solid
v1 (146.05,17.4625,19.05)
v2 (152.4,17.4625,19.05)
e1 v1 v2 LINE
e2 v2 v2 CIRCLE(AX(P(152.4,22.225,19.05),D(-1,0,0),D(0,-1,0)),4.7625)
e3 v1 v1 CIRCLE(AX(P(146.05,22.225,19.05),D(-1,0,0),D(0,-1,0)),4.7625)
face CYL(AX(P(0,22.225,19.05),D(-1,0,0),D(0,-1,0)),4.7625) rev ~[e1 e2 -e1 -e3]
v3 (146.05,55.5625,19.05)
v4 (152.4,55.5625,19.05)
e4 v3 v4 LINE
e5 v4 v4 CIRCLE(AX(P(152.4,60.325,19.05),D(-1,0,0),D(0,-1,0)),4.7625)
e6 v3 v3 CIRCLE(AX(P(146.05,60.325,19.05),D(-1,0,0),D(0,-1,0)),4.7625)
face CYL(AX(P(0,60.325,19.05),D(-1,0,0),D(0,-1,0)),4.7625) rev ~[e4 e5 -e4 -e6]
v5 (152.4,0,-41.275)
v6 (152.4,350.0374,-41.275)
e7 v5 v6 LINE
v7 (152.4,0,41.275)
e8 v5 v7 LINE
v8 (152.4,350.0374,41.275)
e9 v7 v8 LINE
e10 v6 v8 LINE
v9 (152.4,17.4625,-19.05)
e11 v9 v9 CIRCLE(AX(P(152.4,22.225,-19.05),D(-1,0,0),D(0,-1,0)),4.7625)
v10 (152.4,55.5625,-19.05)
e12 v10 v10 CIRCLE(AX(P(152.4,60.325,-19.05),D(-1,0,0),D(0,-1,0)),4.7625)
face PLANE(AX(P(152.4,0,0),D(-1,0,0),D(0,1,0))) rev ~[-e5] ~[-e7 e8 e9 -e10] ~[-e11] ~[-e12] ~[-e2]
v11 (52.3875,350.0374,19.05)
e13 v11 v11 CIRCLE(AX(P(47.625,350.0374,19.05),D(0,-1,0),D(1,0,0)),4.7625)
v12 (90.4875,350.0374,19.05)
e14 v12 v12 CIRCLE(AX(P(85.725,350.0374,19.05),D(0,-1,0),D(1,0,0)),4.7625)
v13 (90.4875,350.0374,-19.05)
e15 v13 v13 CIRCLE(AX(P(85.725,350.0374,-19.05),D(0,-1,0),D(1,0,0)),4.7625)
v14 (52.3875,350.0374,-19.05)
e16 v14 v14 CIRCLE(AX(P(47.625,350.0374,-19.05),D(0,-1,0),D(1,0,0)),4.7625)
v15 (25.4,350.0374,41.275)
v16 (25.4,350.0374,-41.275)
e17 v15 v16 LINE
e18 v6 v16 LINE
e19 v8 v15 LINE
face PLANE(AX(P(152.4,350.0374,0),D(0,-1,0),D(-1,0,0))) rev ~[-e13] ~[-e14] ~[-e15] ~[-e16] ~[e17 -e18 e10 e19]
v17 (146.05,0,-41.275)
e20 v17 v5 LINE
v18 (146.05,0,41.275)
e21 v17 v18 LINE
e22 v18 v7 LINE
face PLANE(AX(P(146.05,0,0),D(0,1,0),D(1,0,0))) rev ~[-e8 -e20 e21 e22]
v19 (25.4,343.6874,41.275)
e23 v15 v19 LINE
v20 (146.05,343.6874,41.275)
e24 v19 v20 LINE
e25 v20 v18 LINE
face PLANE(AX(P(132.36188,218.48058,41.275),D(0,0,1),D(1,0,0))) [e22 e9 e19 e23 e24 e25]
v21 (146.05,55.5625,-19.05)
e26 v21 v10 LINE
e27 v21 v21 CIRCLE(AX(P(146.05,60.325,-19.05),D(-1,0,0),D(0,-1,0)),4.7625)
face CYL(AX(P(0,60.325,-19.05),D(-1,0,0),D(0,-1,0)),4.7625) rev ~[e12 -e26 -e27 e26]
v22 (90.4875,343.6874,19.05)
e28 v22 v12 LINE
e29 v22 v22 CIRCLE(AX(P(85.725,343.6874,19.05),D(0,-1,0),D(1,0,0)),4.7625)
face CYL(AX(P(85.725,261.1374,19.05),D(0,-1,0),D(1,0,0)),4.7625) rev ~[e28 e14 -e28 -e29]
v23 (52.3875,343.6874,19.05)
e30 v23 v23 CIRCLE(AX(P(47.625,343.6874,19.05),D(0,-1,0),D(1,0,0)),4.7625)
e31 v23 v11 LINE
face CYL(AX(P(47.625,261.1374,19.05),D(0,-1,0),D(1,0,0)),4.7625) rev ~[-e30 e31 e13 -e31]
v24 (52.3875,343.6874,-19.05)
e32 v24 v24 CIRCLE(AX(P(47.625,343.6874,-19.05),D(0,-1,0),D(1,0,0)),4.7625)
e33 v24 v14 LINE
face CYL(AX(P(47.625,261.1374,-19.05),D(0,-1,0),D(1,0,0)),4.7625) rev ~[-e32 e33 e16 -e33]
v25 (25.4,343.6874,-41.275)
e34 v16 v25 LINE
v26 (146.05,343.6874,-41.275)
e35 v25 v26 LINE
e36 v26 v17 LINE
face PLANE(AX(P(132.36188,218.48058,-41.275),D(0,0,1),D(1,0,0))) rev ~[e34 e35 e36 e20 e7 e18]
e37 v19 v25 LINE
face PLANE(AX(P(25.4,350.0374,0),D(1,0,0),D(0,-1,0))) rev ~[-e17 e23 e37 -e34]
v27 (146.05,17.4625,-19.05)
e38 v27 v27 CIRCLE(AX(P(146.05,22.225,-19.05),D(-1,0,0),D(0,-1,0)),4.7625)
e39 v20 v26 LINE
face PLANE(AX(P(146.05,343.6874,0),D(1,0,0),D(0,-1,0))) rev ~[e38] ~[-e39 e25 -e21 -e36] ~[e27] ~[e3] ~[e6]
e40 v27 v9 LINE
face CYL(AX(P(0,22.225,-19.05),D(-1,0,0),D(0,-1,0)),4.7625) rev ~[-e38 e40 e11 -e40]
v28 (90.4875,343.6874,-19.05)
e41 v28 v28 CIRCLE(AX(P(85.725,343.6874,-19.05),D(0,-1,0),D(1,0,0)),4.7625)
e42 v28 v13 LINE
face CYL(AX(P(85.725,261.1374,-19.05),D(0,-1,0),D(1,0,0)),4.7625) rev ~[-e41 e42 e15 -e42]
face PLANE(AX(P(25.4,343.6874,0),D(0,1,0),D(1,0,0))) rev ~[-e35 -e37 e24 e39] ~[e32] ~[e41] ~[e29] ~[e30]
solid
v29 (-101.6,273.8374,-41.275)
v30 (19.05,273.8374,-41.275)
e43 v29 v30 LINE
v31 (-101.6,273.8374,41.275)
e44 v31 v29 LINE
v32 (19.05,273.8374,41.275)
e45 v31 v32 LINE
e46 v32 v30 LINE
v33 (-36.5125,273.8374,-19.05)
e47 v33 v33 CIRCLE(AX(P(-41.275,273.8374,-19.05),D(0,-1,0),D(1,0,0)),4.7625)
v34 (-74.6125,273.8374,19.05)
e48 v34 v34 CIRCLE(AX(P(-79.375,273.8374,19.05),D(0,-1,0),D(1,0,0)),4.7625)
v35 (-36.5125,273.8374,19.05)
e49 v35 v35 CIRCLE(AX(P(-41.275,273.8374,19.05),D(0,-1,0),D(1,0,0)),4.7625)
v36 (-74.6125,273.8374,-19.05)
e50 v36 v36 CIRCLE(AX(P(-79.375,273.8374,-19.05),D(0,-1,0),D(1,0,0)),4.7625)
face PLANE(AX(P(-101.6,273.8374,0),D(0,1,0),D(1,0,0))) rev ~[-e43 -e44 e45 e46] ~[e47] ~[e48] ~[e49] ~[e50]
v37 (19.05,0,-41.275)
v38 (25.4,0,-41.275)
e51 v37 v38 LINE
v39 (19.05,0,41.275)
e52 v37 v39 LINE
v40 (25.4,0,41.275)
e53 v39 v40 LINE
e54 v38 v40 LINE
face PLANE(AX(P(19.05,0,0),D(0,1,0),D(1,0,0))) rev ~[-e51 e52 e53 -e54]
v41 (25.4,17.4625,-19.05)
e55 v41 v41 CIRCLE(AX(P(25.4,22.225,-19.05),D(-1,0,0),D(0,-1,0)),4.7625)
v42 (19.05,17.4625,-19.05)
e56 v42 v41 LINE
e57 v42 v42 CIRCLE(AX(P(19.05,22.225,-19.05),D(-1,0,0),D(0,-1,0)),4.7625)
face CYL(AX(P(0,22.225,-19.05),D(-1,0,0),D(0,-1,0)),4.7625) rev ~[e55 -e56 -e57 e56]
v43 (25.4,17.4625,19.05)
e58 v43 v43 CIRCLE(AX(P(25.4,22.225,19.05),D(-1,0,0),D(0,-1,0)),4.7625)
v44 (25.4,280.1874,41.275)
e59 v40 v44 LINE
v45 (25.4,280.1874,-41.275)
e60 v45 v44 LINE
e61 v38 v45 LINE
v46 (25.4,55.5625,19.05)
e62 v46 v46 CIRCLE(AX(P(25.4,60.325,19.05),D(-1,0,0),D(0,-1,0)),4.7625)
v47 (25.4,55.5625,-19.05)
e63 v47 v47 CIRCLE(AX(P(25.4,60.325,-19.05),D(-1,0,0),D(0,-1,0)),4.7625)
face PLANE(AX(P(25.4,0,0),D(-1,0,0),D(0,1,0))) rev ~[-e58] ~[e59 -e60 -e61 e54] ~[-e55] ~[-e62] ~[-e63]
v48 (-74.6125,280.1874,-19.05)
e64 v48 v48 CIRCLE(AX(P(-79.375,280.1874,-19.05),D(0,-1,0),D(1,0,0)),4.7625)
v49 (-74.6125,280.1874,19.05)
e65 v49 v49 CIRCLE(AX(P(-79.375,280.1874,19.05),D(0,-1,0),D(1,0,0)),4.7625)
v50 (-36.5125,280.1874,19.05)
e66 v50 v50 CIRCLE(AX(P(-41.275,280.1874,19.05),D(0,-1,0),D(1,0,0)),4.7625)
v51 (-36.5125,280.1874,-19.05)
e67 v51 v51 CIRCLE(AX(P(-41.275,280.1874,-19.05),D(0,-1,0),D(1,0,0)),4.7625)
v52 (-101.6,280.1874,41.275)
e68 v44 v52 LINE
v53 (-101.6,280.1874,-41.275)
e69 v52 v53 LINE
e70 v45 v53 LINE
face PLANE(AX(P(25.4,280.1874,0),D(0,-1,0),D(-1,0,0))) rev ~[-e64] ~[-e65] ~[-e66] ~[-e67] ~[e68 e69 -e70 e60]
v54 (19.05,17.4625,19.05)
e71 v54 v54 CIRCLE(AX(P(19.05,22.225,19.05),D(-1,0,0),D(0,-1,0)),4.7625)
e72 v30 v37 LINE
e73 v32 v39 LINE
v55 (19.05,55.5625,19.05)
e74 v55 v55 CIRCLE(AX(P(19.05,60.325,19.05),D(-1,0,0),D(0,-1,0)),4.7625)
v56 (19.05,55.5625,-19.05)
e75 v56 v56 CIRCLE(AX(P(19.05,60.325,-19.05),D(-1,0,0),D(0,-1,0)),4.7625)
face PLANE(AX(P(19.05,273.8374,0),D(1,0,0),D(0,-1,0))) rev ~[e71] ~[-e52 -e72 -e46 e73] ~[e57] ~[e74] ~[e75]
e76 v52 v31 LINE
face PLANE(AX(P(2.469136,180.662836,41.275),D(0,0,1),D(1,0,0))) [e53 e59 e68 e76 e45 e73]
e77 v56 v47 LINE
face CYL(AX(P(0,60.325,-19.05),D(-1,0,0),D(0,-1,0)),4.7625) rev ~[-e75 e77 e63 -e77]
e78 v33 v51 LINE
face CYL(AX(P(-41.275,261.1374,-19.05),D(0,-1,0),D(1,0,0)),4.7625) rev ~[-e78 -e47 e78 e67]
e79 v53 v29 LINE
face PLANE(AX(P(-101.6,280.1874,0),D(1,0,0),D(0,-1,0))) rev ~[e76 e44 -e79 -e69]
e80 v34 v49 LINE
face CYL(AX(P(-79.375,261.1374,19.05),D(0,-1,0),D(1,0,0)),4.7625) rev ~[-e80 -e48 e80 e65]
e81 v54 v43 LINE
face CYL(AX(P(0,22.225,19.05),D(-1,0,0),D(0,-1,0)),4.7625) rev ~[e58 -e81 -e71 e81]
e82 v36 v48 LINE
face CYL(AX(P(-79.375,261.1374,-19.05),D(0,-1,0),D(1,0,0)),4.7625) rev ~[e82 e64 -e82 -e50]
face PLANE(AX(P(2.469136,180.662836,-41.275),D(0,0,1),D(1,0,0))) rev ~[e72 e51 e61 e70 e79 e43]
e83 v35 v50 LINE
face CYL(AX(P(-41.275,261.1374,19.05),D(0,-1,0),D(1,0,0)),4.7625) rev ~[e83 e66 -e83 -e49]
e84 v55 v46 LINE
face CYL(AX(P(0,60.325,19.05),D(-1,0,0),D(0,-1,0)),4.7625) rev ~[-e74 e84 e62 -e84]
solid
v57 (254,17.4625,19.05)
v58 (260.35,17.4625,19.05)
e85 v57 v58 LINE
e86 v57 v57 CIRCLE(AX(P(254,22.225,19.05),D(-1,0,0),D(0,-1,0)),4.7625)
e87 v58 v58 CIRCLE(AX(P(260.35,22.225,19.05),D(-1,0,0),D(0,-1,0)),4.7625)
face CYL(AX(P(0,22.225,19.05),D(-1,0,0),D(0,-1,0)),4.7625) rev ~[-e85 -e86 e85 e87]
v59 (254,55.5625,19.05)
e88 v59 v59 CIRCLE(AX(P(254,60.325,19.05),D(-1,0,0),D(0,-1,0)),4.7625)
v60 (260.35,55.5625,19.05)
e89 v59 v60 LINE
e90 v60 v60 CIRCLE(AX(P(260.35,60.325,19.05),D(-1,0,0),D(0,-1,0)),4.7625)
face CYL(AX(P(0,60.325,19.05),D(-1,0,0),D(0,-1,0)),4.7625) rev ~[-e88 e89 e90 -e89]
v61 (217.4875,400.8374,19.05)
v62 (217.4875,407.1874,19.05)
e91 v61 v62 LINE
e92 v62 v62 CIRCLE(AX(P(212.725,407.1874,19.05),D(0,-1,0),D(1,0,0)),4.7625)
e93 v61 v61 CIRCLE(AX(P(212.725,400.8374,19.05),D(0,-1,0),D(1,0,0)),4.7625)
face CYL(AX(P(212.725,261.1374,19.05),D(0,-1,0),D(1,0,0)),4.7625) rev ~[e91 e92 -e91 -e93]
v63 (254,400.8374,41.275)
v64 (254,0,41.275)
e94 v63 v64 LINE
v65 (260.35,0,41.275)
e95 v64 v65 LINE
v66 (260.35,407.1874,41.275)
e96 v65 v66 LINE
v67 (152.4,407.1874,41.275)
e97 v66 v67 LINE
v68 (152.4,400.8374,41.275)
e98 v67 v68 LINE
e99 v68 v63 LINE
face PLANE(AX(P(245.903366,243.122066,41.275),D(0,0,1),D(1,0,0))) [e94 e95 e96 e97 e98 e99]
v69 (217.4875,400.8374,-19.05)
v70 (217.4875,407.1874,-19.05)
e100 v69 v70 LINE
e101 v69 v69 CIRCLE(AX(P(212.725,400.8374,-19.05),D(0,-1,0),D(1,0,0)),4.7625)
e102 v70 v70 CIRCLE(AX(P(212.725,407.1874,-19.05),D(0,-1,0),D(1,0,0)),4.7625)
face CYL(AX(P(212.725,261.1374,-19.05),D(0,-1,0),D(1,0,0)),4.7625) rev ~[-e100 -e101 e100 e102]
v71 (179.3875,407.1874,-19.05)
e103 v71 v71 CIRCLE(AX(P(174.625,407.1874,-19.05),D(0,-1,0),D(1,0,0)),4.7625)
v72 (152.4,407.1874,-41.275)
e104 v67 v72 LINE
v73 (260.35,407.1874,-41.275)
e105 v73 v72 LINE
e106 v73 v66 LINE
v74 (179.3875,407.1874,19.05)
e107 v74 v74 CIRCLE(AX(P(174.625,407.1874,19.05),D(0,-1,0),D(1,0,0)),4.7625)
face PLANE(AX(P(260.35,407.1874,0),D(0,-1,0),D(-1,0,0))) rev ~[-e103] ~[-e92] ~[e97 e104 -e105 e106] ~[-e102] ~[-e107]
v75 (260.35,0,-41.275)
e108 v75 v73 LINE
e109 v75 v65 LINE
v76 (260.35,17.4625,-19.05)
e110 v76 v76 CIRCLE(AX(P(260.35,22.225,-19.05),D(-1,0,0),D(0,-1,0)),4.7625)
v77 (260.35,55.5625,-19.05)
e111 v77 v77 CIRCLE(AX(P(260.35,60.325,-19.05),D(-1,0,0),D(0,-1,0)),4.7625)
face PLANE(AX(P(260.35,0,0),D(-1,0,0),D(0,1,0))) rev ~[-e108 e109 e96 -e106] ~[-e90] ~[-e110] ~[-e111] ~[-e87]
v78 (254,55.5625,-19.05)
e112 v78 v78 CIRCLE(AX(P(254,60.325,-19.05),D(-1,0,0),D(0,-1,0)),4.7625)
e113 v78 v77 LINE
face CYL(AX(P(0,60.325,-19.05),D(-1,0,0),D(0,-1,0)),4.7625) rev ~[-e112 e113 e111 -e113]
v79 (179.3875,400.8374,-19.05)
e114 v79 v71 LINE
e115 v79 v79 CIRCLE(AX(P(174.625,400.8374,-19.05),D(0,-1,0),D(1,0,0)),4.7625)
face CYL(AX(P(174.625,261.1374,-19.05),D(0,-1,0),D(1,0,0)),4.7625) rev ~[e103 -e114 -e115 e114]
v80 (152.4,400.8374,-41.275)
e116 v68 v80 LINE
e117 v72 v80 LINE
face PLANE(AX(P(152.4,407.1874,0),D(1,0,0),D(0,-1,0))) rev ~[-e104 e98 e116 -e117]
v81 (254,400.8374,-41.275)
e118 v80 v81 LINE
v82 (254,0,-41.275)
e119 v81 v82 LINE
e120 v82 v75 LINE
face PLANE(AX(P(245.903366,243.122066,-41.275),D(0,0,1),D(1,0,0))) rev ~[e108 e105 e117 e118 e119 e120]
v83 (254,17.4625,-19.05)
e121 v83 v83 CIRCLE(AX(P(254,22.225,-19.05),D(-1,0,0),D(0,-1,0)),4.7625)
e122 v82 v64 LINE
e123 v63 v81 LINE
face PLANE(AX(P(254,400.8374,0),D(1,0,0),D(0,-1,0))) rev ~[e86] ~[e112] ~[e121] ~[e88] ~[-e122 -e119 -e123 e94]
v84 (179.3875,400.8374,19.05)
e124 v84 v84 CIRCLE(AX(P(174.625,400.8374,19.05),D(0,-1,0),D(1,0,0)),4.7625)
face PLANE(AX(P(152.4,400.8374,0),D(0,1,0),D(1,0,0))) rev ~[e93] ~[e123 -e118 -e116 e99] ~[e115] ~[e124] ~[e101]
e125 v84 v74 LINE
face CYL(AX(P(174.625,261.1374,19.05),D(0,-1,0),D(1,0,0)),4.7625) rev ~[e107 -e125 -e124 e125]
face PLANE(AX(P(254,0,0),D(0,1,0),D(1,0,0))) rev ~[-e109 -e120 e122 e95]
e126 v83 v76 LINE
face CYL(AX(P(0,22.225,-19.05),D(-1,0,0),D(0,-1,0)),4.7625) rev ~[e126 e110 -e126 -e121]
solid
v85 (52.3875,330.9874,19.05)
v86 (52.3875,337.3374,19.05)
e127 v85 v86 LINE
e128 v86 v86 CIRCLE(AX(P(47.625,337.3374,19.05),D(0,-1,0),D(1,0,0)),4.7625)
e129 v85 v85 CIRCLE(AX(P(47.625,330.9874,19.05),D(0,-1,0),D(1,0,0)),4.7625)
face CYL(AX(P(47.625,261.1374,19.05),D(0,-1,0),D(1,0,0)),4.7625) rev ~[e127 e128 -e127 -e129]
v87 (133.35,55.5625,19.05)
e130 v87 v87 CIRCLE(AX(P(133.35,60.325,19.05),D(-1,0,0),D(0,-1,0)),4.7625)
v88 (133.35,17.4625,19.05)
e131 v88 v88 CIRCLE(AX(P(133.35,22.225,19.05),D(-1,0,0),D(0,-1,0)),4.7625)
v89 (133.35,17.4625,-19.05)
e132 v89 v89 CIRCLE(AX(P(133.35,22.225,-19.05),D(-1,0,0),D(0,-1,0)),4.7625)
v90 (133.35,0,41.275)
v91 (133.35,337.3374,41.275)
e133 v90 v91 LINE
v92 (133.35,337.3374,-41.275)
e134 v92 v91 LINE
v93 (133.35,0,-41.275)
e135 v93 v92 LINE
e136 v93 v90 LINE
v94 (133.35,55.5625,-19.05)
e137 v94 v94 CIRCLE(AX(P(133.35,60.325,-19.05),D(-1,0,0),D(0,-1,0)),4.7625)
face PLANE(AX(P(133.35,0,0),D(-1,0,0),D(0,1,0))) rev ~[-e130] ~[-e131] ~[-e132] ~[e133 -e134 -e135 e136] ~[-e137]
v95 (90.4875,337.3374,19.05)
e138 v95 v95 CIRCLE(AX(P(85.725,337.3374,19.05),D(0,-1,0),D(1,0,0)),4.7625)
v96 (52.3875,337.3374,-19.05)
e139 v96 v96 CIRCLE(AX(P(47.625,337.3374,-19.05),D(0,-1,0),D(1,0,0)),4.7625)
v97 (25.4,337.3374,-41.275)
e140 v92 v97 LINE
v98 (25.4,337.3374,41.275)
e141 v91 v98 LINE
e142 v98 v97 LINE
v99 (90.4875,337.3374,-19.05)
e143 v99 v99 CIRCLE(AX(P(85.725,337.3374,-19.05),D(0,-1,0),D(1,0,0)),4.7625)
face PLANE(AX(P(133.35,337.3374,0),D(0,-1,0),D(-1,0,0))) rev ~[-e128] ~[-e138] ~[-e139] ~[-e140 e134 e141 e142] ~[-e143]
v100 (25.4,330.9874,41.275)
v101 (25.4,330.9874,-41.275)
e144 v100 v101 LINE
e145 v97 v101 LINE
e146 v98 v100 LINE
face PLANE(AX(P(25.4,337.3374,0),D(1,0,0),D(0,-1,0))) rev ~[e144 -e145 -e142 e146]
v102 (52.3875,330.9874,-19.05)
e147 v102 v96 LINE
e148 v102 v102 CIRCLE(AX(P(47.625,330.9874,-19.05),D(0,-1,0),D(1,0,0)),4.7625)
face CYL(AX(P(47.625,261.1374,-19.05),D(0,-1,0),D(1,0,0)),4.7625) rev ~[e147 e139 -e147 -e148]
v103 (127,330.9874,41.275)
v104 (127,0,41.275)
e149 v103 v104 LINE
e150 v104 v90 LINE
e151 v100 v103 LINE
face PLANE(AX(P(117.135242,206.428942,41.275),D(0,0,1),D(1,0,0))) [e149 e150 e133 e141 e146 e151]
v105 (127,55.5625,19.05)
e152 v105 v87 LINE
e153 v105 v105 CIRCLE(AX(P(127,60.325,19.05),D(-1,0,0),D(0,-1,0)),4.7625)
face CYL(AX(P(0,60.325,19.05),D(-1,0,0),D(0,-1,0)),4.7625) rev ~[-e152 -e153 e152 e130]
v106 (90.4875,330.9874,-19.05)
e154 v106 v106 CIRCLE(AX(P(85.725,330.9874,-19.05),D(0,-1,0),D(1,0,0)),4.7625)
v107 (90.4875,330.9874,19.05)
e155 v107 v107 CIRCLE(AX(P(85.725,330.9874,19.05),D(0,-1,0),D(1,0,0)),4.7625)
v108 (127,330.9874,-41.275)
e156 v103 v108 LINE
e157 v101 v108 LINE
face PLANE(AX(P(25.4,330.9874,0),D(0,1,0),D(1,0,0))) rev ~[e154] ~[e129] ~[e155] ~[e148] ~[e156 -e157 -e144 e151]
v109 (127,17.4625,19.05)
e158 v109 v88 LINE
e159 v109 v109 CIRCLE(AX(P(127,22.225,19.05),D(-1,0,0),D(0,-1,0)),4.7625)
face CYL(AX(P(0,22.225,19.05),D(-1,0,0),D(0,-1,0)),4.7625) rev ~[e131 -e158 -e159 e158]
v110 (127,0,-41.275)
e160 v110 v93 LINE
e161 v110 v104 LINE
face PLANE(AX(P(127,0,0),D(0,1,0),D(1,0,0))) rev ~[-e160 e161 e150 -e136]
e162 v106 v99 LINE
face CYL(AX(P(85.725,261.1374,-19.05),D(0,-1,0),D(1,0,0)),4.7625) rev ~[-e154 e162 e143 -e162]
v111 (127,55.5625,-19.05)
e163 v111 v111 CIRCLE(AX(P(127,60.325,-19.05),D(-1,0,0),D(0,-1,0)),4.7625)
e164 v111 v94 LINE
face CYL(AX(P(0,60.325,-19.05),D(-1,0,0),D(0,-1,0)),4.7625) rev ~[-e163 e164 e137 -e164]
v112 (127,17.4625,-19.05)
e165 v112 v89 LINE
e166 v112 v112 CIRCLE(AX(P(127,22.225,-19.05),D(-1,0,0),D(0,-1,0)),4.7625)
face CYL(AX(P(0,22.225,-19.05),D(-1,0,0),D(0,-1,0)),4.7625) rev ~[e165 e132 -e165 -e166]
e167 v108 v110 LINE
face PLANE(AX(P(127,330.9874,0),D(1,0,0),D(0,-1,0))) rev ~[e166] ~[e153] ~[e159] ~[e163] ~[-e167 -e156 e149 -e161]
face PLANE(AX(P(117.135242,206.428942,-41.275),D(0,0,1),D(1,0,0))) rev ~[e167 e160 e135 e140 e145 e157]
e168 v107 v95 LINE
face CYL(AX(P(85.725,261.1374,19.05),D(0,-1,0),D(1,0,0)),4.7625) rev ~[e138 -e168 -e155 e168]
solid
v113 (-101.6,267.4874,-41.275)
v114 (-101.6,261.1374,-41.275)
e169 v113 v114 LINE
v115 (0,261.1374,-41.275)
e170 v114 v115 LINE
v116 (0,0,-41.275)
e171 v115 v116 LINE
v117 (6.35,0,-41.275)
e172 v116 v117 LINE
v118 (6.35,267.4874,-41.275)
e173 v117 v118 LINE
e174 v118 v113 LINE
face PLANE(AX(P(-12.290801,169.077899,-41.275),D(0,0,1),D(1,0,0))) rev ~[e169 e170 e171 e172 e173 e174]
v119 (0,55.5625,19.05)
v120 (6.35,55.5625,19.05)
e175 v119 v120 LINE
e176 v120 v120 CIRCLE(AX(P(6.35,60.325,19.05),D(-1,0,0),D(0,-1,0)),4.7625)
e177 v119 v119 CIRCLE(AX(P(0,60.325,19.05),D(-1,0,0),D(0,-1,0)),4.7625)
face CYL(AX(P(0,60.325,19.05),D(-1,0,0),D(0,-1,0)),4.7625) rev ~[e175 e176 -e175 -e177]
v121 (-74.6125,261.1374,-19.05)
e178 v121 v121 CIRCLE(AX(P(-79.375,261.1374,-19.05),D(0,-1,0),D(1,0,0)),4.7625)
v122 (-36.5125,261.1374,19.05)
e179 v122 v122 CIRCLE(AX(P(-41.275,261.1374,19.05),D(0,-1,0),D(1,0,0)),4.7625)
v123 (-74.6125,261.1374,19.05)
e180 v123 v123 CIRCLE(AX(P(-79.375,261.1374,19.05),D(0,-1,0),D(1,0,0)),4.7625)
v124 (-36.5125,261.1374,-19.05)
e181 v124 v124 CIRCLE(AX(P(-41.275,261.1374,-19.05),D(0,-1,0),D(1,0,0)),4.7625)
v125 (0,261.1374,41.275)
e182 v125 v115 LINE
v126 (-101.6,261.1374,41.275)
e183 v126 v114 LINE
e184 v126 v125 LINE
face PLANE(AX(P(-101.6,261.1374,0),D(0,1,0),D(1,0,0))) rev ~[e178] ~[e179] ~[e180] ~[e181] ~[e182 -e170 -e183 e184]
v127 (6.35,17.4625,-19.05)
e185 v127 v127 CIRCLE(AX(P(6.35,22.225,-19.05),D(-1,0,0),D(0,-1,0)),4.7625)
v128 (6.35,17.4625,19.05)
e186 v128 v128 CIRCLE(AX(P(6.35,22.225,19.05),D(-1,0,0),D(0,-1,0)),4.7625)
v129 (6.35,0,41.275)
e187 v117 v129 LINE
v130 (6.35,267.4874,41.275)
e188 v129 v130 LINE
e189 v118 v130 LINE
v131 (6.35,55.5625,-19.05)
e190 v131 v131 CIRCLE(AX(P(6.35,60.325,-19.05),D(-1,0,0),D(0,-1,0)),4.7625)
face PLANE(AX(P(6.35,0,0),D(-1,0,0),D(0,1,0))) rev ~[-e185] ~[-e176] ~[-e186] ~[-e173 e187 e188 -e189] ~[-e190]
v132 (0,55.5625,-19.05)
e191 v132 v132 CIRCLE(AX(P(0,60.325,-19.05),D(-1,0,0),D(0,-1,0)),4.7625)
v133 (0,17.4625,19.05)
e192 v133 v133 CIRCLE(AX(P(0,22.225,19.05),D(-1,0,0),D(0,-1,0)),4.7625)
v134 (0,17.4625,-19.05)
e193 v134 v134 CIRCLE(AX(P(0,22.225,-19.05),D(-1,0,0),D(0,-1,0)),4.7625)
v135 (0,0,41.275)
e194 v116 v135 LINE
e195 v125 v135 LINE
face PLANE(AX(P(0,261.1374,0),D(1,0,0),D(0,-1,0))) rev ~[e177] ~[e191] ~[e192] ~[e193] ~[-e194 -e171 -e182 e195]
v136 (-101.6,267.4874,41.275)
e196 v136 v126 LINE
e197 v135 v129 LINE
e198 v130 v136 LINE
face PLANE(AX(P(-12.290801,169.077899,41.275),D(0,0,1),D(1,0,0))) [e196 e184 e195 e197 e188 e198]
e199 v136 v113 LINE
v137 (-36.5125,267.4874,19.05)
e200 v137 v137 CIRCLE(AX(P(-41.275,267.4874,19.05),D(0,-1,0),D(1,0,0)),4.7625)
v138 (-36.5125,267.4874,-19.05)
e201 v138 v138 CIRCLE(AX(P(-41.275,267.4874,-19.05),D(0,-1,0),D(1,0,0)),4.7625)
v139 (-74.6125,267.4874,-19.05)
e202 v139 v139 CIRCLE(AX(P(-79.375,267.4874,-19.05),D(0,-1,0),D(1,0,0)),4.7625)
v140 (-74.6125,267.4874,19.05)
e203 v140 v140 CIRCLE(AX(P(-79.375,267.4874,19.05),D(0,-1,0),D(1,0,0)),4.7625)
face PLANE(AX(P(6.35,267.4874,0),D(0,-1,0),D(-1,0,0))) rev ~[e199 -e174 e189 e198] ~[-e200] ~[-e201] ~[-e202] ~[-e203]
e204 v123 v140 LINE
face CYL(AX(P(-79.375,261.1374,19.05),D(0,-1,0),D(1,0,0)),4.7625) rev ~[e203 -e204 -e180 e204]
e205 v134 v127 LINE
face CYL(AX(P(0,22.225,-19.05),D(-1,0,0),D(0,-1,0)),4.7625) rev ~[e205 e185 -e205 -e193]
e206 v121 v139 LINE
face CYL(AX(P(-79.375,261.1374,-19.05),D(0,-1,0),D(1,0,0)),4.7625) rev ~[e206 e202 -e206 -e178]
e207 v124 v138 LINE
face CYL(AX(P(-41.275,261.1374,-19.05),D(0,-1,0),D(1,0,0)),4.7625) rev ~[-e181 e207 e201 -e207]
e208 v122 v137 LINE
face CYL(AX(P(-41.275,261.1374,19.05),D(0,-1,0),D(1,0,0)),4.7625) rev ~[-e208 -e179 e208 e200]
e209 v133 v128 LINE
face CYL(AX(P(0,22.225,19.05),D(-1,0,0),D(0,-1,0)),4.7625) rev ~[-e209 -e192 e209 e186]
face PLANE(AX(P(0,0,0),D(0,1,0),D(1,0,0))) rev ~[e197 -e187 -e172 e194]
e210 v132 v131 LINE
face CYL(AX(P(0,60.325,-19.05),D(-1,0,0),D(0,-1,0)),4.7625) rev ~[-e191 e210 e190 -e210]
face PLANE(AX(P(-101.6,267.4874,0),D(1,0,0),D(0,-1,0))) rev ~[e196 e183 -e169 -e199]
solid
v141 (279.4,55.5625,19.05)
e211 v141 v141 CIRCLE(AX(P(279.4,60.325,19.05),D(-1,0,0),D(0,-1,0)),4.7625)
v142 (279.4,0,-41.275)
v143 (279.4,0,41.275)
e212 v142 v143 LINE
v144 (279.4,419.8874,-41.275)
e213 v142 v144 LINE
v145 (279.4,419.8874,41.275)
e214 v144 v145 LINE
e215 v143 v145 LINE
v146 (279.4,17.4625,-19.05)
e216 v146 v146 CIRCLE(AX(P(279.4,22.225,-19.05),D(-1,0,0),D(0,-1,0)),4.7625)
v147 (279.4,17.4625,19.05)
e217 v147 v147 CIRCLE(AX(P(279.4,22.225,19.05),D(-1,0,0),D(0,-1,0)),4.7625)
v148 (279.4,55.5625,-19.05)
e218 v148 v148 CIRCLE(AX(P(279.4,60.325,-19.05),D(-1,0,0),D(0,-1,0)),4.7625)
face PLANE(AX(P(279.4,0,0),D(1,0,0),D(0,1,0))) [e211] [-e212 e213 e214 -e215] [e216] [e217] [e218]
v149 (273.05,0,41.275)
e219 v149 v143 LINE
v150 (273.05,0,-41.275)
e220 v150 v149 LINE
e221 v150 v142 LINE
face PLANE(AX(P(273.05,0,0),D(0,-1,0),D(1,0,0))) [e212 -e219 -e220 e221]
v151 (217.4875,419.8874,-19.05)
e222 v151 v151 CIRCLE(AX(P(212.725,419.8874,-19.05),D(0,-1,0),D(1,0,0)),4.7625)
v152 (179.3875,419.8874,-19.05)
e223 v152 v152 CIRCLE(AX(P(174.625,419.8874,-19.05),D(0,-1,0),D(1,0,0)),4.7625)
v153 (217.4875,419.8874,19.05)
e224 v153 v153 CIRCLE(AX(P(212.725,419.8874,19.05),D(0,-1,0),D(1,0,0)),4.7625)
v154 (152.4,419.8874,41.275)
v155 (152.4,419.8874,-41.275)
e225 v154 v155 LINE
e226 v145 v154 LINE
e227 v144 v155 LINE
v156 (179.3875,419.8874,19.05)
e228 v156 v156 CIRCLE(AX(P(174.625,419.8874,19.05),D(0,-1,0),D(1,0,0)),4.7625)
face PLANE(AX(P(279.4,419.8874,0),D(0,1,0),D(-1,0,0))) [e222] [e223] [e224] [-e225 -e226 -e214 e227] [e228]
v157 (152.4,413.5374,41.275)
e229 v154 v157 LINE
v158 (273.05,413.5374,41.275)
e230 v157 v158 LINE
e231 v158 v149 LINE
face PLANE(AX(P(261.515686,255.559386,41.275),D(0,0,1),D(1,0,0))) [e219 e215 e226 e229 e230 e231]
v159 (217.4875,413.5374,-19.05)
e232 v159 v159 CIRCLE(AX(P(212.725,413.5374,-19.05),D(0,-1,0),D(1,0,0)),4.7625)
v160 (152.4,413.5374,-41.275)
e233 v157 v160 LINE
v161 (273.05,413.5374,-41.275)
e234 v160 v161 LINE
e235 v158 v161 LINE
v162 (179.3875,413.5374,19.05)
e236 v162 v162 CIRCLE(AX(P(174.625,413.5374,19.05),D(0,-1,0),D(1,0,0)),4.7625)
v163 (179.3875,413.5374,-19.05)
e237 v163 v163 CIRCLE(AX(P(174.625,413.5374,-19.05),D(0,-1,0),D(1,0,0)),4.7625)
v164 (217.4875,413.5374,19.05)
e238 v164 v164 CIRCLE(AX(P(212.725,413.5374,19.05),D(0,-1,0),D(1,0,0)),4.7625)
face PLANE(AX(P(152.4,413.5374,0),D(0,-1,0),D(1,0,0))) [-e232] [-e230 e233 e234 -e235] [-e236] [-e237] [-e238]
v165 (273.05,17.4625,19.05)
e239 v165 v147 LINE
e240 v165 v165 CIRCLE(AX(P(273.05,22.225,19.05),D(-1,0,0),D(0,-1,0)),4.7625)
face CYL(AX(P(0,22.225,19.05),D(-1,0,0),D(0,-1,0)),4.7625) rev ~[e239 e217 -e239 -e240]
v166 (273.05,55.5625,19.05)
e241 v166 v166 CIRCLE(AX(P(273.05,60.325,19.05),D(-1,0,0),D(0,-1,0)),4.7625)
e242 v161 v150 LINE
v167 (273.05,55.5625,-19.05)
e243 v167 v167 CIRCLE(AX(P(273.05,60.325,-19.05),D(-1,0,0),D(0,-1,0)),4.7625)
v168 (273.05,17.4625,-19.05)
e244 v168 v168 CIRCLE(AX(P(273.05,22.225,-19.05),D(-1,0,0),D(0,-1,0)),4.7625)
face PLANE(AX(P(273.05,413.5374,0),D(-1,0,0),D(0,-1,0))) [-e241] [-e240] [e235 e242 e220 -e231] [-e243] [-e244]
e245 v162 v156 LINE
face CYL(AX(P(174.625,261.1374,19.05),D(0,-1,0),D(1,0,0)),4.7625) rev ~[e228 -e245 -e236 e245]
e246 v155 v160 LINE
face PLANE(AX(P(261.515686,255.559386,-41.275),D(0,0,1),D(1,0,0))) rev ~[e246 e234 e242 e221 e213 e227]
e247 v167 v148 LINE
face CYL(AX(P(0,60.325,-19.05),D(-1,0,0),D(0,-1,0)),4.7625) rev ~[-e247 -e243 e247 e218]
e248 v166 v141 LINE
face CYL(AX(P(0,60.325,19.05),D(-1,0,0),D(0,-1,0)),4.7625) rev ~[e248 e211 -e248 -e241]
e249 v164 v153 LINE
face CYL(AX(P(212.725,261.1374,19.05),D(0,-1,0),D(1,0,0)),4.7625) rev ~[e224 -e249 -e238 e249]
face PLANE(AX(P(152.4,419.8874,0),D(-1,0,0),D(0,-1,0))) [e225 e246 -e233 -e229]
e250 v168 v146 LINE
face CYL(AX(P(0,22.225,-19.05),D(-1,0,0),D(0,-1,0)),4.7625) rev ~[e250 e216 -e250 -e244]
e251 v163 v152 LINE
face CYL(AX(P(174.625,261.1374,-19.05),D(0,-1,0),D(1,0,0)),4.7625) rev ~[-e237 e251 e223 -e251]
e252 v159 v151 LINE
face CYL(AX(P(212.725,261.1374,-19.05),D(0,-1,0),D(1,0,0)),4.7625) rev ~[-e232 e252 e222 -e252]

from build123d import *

# Parameters (mm, degrees)
F1_DEPTH      = 41.275
F2_R          = 4.7625
F3_DEPTH      = 279.401
F3_DEPTH_BACK = 101.601
F4_R          = 4.7625
F5_DEPTH      = 158.751


with BuildPart() as f1:
    # F0 (on Top) → F1 (new body, symmetric)
    with BuildSketch(Plane.XY):
        Polygon((0, 261.1374), (0, 0), (6.35, 0), (6.35, 267.4874), (-101.6, 267.4874), (-101.6, 261.1374), align=None)
        Polygon((19.05, 273.8374), (19.05, 0), (25.4, 0), (25.4, 280.1874), (-101.6, 280.1874), (-101.6, 273.8374), align=None)
        Polygon((127, 330.9874), (127, 0), (133.35, 0), (133.35, 337.3374), (25.4, 337.3374), (25.4, 330.9874), align=None)
        Polygon((146.05, 343.6874), (146.05, 0), (152.4, 0), (152.4, 350.0374), (25.4, 350.0374), (25.4, 343.6874), align=None)
        Polygon((254, 400.8374), (254, 0), (260.35, 0), (260.35, 407.1874), (152.4, 407.1874), (152.4, 400.8374), align=None)
        Polygon((273.05, 413.5374), (273.05, 0), (279.4, 0), (279.4, 419.8874), (152.4, 419.8874), (152.4, 413.5374), align=None)
    extrude(amount=F1_DEPTH, both=True)

    # F2 (on face) → F3 (cut, two sides)
    with BuildSketch(Plane(origin=(0, 0, 0), x_dir=(0, -1, 0), z_dir=(-1, 0, 0))) as f3_sk:
        with Locations((-22.225, 19.05)):
            Circle(F2_R)
        with Locations((-22.225, -19.05)):
            Circle(F2_R)
        with Locations((-60.325, -19.05)):
            Circle(F2_R)
        with Locations((-60.325, 19.05)):
            Circle(F2_R)
    extrude(amount=-F3_DEPTH, mode=Mode.SUBTRACT)
    extrude(f3_sk.sketch, amount=-F3_DEPTH_BACK, mode=Mode.SUBTRACT)

    # F4 (on face) → F5 (cut, through all)
    with BuildSketch(Plane.XZ.offset(-261.1374)):
        with Locations((-79.375, 19.05)):
            Circle(F4_R)
        with Locations((-79.375, -19.05)):
            Circle(F4_R)
        with Locations((-41.275, -19.05)):
            Circle(F4_R)
        with Locations((-41.275, 19.05)):
            Circle(F4_R)
        with Locations((47.625, 19.05)):
            Circle(F4_R)
        with Locations((47.625, -19.05)):
            Circle(F4_R)
        with Locations((85.725, -19.05)):
            Circle(F4_R)
        with Locations((85.725, 19.05)):
            Circle(F4_R)
        with Locations((174.625, 19.05)):
            Circle(F4_R)
        with Locations((174.625, -19.05)):
            Circle(F4_R)
        with Locations((212.725, -19.05)):
            Circle(F4_R)
        with Locations((212.725, 19.05)):
            Circle(F4_R)
    extrude(amount=-F5_DEPTH, mode=Mode.SUBTRACT)


solid = f1.part
